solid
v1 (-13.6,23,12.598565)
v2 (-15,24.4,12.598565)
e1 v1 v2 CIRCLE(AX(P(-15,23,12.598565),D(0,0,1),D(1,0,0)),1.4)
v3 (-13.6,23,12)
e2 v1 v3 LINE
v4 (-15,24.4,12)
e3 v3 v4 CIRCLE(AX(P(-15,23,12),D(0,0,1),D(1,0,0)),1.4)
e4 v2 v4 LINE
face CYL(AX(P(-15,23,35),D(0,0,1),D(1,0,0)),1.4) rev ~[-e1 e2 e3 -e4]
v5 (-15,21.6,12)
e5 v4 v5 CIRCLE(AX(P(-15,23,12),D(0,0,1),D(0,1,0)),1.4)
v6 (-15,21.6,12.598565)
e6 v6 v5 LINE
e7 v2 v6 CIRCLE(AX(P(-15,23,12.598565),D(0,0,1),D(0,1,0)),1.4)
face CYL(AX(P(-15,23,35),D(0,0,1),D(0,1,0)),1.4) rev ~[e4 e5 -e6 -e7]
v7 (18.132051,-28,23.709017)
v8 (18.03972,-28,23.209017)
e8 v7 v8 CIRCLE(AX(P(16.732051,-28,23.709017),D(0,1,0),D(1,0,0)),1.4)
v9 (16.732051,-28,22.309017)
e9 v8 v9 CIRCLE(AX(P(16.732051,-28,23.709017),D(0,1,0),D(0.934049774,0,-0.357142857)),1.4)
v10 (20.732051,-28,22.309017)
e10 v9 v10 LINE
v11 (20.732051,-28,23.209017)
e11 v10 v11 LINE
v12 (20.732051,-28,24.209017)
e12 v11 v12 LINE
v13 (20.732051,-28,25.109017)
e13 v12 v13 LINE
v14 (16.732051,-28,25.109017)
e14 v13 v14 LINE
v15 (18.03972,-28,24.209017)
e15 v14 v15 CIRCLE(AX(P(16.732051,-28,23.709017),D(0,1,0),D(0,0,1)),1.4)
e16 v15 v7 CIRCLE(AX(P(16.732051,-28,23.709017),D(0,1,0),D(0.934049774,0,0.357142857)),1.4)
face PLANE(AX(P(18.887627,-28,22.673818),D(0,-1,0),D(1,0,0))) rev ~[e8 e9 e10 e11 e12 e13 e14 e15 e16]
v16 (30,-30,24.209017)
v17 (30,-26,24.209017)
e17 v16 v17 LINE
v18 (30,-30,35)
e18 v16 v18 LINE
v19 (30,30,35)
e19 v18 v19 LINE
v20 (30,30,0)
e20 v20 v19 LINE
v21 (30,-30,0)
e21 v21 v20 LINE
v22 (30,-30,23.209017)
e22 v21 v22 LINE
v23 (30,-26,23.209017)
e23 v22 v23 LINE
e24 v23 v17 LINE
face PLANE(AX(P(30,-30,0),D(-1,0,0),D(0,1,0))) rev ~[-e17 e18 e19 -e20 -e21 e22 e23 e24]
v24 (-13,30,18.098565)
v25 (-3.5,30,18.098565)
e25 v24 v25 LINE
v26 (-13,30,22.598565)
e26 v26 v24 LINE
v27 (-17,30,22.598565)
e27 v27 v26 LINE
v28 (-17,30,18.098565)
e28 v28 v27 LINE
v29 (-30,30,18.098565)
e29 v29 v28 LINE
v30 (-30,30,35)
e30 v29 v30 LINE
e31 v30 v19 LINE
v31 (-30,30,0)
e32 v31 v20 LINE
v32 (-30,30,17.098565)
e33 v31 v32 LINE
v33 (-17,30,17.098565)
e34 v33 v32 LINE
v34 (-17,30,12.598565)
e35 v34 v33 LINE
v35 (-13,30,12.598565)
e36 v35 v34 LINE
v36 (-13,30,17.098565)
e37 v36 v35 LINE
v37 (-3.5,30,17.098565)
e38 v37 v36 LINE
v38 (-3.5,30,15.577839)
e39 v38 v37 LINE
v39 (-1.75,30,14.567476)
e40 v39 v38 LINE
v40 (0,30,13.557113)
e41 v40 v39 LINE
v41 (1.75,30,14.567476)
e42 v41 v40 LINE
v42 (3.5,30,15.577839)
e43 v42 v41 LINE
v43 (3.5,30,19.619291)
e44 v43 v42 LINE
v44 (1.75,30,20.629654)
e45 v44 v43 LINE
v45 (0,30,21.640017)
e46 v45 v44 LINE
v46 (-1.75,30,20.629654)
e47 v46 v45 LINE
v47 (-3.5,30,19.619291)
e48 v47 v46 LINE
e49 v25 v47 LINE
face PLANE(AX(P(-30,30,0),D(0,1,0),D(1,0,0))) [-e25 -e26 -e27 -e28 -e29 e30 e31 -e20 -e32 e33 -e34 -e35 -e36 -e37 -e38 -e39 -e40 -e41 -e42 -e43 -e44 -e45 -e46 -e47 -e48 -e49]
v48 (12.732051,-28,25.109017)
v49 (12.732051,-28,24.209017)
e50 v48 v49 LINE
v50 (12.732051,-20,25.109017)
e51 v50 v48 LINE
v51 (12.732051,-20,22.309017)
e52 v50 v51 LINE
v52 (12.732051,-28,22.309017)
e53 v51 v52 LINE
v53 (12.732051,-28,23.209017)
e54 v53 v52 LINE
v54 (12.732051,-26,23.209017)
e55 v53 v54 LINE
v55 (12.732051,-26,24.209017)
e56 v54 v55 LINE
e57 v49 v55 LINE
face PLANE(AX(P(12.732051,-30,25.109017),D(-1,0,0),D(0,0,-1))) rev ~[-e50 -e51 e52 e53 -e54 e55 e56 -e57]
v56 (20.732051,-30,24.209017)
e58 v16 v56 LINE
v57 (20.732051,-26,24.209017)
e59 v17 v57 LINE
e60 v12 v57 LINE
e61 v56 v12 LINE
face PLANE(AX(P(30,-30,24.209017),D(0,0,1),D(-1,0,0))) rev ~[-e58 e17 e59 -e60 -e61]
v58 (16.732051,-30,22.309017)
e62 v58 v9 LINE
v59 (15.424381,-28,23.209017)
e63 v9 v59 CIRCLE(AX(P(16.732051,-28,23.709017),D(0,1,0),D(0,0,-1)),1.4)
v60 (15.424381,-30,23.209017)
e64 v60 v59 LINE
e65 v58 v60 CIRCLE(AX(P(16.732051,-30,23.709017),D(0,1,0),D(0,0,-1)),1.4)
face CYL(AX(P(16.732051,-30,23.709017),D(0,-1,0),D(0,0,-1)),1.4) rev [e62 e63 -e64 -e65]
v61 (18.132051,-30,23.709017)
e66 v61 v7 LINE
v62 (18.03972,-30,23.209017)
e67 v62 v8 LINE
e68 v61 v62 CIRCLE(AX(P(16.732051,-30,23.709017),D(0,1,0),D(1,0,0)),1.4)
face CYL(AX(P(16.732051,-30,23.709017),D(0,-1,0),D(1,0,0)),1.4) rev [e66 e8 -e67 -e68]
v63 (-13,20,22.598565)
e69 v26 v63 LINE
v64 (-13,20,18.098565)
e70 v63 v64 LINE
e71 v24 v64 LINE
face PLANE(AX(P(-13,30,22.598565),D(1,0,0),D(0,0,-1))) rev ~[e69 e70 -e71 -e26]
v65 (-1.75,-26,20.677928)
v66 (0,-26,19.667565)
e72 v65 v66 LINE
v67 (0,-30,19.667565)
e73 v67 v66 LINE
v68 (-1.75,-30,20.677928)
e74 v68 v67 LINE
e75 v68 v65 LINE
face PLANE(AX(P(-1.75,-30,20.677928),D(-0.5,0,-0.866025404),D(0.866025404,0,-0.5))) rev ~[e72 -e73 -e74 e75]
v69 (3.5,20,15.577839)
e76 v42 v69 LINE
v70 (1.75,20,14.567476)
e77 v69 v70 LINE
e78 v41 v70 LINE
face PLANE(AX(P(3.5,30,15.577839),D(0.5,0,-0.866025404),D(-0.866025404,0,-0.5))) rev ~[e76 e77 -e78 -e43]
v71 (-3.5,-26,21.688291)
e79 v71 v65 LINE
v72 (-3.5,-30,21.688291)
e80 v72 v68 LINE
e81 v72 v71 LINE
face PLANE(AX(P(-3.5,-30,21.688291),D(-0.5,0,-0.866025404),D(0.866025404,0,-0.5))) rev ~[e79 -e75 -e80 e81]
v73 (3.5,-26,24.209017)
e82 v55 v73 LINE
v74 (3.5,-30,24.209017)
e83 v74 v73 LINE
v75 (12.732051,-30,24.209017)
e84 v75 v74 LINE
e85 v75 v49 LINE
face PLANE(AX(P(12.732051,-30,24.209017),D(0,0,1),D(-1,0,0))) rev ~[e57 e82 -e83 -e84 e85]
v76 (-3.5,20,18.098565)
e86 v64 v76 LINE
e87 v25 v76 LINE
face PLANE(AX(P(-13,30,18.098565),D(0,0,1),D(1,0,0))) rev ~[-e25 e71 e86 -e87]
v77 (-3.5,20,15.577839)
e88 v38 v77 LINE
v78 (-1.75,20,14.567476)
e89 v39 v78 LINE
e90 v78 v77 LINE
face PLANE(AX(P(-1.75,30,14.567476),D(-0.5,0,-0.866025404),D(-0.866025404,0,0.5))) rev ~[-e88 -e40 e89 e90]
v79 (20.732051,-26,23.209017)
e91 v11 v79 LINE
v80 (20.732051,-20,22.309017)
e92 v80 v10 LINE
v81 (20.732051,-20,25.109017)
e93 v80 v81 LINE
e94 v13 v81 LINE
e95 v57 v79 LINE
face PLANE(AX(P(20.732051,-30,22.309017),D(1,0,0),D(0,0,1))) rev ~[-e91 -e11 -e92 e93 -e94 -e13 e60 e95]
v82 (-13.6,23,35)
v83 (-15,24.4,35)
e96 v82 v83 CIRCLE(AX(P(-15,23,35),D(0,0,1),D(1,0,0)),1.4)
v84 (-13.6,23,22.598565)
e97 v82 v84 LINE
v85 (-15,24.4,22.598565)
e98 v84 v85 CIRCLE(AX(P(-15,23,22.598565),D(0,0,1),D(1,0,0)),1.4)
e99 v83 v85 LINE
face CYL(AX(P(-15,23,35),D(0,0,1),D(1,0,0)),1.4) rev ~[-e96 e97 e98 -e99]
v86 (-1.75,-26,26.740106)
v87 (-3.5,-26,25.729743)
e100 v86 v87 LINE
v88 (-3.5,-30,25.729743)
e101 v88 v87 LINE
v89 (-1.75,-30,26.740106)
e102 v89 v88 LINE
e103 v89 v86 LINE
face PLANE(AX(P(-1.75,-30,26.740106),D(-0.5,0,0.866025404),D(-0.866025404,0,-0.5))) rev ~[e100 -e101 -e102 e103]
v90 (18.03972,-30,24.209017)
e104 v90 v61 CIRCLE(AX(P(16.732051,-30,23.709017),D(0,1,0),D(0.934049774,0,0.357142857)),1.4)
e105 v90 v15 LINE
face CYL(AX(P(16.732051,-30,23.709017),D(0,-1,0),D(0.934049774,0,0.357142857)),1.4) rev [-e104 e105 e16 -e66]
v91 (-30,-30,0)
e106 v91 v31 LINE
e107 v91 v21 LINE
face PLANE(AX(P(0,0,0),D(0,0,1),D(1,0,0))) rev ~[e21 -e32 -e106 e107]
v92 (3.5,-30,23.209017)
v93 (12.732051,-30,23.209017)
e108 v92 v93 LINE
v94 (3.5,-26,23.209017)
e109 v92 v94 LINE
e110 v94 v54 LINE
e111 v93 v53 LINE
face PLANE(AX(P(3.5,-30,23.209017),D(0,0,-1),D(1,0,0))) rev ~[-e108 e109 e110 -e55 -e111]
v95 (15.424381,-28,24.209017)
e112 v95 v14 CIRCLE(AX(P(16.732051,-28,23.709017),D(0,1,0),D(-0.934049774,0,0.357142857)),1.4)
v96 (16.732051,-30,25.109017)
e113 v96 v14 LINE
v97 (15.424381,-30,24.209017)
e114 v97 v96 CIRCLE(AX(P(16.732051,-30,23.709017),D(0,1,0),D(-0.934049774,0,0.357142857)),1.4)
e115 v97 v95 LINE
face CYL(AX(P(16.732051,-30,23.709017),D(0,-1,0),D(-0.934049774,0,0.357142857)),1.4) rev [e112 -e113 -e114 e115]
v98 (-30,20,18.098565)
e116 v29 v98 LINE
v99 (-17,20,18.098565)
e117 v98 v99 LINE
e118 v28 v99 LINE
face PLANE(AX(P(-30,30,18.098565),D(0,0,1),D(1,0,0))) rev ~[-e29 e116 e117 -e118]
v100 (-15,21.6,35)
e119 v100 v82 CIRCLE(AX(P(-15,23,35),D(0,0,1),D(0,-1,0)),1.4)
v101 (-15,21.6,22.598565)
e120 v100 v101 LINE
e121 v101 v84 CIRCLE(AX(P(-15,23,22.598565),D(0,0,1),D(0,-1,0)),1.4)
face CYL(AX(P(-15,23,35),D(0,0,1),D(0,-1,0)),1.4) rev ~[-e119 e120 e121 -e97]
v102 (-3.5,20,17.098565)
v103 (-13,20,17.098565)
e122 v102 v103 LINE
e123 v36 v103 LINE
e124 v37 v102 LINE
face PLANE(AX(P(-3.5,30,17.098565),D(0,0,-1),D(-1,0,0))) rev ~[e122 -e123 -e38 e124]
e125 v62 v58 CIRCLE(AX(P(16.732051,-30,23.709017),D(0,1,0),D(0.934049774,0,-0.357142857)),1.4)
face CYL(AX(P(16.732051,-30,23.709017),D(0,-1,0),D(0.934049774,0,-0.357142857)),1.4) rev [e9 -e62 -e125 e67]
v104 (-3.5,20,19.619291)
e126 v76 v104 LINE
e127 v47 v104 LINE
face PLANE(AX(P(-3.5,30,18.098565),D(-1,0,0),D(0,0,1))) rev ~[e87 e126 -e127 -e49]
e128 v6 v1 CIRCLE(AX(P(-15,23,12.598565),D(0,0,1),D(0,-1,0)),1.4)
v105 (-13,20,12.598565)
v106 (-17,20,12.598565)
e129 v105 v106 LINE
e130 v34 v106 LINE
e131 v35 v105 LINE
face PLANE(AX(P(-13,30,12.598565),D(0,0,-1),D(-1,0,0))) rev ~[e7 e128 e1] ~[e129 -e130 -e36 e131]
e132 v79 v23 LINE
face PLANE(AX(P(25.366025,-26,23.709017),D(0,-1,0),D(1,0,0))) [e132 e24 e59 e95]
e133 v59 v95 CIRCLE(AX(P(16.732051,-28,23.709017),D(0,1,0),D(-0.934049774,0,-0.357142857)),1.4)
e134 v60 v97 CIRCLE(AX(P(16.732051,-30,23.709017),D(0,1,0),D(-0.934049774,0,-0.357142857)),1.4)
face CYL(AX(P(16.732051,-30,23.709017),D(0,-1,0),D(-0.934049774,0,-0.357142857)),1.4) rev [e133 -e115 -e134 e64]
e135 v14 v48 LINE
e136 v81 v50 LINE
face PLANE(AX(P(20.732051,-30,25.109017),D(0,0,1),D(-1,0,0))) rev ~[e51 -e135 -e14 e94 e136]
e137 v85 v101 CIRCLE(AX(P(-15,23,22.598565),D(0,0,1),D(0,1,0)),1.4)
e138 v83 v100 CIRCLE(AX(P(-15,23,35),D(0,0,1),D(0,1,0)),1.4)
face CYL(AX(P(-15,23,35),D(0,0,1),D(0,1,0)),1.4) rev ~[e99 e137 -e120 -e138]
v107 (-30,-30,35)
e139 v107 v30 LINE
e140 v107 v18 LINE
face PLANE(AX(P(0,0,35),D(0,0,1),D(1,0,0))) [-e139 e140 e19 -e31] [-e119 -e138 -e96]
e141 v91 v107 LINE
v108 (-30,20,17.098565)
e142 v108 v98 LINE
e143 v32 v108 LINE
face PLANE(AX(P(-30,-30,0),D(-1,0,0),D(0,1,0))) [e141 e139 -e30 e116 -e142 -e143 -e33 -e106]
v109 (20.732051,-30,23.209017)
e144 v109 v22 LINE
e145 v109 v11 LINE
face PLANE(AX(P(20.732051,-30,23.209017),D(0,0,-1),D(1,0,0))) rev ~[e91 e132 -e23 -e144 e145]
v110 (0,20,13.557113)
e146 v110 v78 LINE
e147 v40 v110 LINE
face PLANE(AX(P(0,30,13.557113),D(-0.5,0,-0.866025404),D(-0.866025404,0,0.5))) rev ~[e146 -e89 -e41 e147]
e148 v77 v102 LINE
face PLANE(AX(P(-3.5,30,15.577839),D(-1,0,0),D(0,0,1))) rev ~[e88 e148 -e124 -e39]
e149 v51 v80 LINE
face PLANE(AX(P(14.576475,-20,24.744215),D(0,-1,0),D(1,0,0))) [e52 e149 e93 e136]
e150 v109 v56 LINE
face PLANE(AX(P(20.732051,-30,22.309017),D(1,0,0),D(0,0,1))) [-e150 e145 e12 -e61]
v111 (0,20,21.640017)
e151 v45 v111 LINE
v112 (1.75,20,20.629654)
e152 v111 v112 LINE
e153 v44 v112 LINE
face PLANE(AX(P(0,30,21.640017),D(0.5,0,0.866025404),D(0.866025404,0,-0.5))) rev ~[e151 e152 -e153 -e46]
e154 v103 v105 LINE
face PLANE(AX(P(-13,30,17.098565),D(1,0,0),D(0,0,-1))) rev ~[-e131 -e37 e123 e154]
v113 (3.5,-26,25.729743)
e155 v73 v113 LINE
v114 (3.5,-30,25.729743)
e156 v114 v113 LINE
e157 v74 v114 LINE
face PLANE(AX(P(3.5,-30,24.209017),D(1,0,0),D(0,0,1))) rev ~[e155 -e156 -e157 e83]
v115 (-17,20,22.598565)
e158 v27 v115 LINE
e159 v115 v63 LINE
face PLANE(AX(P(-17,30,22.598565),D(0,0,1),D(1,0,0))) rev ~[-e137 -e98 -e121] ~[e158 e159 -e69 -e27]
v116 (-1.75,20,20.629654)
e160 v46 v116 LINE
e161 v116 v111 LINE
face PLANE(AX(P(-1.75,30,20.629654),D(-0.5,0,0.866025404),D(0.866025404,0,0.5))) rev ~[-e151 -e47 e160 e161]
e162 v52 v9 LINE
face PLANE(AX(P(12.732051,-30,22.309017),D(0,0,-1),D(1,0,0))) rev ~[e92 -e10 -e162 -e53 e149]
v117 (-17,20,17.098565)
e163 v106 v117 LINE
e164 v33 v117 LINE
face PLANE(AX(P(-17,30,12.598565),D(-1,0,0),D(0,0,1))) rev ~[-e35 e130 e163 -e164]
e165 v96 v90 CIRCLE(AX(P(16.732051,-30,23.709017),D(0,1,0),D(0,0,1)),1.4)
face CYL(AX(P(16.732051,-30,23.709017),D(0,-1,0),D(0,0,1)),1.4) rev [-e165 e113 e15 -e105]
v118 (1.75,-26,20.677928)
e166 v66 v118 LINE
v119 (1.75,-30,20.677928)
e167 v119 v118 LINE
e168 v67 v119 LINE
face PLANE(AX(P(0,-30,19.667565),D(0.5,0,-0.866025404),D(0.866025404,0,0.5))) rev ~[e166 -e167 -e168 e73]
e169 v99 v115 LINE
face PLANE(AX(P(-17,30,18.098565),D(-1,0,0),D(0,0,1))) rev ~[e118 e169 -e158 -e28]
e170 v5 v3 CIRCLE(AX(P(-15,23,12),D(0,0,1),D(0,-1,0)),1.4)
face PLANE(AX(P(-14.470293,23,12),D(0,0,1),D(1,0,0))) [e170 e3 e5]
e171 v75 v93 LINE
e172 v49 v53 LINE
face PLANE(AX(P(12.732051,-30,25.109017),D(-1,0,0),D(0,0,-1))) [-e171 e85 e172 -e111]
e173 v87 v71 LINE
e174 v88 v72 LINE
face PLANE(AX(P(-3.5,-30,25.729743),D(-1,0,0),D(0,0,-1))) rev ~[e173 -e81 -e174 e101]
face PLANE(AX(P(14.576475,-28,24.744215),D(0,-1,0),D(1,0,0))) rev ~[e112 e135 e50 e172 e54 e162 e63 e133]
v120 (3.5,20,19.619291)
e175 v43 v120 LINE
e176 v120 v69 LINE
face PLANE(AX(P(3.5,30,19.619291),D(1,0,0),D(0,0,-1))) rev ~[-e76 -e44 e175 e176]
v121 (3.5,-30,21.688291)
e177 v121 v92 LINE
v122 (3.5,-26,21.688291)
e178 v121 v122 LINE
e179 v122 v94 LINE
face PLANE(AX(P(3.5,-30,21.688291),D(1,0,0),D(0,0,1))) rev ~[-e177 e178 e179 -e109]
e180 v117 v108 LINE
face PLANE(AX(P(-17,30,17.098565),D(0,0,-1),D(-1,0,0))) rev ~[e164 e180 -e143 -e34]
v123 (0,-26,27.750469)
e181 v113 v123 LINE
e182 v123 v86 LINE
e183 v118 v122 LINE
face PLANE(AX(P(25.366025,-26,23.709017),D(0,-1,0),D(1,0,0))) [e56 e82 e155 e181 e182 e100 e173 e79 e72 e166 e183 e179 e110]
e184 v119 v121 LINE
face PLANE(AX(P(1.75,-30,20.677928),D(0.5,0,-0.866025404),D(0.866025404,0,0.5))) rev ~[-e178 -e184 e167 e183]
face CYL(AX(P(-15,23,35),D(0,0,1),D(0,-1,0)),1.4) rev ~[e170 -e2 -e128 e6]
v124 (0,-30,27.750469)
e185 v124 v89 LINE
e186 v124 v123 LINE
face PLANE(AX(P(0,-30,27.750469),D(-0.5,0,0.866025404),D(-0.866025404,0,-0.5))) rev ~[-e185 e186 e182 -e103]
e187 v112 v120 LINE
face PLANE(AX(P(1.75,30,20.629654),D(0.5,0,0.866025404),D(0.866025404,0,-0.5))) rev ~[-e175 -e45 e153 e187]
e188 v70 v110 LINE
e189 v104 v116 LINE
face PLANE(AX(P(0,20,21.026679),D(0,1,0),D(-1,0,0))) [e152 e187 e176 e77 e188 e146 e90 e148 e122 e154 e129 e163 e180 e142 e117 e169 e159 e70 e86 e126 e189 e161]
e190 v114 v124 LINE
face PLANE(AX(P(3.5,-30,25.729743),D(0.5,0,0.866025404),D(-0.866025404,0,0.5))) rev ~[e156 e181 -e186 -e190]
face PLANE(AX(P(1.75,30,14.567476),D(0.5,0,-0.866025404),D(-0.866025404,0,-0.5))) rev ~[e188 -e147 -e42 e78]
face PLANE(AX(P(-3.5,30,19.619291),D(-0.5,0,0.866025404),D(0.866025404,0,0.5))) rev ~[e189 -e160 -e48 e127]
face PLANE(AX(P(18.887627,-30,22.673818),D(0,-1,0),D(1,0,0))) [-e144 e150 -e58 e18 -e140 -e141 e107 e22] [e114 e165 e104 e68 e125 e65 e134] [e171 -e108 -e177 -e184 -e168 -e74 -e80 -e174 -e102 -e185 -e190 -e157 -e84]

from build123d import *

# Parameters (mm, degrees)
F0_W     = 60
F0_H     = 60
F1_DEPTH = 35
F3_DEPTH = 10
F2_W     = 9.2679491924
F2_H     = 1
F4_DEPTH = 4
F5_DEPTH = 2
F6_W     = 2
F6_H     = 0.5
F6_H_2   = 4.5
F6_W_2   = 1.75
F7_DEPTH = 10
F9_DEPTH = 23


with BuildPart() as f1:
    # F0 (on Top) → F1 (new body)
    with BuildSketch(Plane.XY):
        Rectangle(F0_W, F0_H)
    extrude(amount=F1_DEPTH)

    # F2 (on face) → F3 (cut)
    with BuildSketch(Plane.XZ.offset(30)):
        with BuildLine():
            ThreePointArc((15.4243811245, 24.2090167701), (15.9383254142, 24.8622730296), (16.7320508076, 25.1090167701))
            Line((16.7320508076, 25.1090167701), (12.7320508076, 25.1090167701))
            Line((12.7320508076, 25.1090167701), (12.7320508076, 24.2090167701))
            Line((12.7320508076, 24.2090167701), (15.4243811245, 24.2090167701))
        make_face()
        with BuildLine():
            ThreePointArc((15.4243811245, 23.2090167701), (15.3320508076, 23.7090167701), (15.4243811245, 24.2090167701))
            Line((15.4243811245, 24.2090167701), (12.7320508076, 24.2090167701))
            Line((12.7320508076, 24.2090167701), (12.7320508076, 23.2090167701))
            Line((12.7320508076, 23.2090167701), (15.4243811245, 23.2090167701))
        make_face()
        with BuildLine():
            Line((12.7320508076, 22.3090167701), (16.7320508076, 22.3090167701))
            ThreePointArc((16.7320508076, 22.3090167701), (15.9383254142, 22.5557605107), (15.4243811245, 23.2090167701))
            Line((15.4243811245, 23.2090167701), (12.7320508076, 23.2090167701))
            Line((12.7320508076, 23.2090167701), (12.7320508076, 22.3090167701))
        make_face()
        with BuildLine():
            ThreePointArc((18.1320508076, 23.7090167701), (18.1087747371, 23.9632434836), (18.0397204906, 24.2090167701))
            ThreePointArc((18.0397204906, 24.2090167701), (17.5257762009, 24.8622730296), (16.7320508076, 25.1090167701))
            ThreePointArc((16.7320508076, 25.1090167701), (15.9383254142, 24.8622730296), (15.4243811245, 24.2090167701))
            ThreePointArc((15.4243811245, 24.2090167701), (15.3320508076, 23.7090167701), (15.4243811245, 23.2090167701))
            ThreePointArc((15.4243811245, 23.2090167701), (15.9383254142, 22.5557605107), (16.7320508076, 22.3090167701))
            ThreePointArc((16.7320508076, 22.3090167701), (17.5257762009, 22.5557605107), (18.0397204906, 23.2090167701))
            ThreePointArc((18.0397204906, 23.2090167701), (18.1087747371, 23.4547900566), (18.1320508076, 23.7090167701))
        make_face()
        with BuildLine():
            Line((18.0397204906, 24.2090167701), (20.7320508076, 24.2090167701))
            Line((20.7320508076, 24.2090167701), (20.7320508076, 25.1090167701))
            Line((20.7320508076, 25.1090167701), (16.7320508076, 25.1090167701))
            ThreePointArc((16.7320508076, 25.1090167701), (17.5257762009, 24.8622730296), (18.0397204906, 24.2090167701))
        make_face()
        with BuildLine():
            Line((20.7320508076, 23.2090167701), (20.7320508076, 24.2090167701))
            Line((20.7320508076, 24.2090167701), (18.0397204906, 24.2090167701))
            ThreePointArc((18.0397204906, 24.2090167701), (18.1087747371, 23.9632434836), (18.1320508076, 23.7090167701))
            ThreePointArc((18.1320508076, 23.7090167701), (18.1087747371, 23.4547900566), (18.0397204906, 23.2090167701))
            Line((18.0397204906, 23.2090167701), (20.7320508076, 23.2090167701))
        make_face()
        with BuildLine():
            Line((20.7320508076, 22.3090167701), (20.7320508076, 23.2090167701))
            Line((20.7320508076, 23.2090167701), (18.0397204906, 23.2090167701))
            ThreePointArc((18.0397204906, 23.2090167701), (17.5257762009, 22.5557605107), (16.7320508076, 22.3090167701))
            Line((16.7320508076, 22.3090167701), (20.7320508076, 22.3090167701))
        make_face()
    extrude(amount=-F3_DEPTH, mode=Mode.SUBTRACT)

    # F2 (on face) → F4 (cut)
    with BuildSketch(Plane.XZ.offset(30)):
        with Locations((25.3660254038, 23.7090167701)):
            Rectangle(F2_W, F2_H)
        with BuildLine():
            Line((20.7320508076, 23.2090167701), (20.7320508076, 24.2090167701))
            Line((20.7320508076, 24.2090167701), (18.0397204906, 24.2090167701))
            ThreePointArc((18.0397204906, 24.2090167701), (18.1087747371, 23.9632434836), (18.1320508076, 23.7090167701))
            ThreePointArc((18.1320508076, 23.7090167701), (18.1087747371, 23.4547900566), (18.0397204906, 23.2090167701))
            Line((18.0397204906, 23.2090167701), (20.7320508076, 23.2090167701))
        make_face()
        with BuildLine():
            Line((18.0397204906, 24.2090167701), (20.7320508076, 24.2090167701))
            Line((20.7320508076, 24.2090167701), (20.7320508076, 25.1090167701))
            Line((20.7320508076, 25.1090167701), (16.7320508076, 25.1090167701))
            ThreePointArc((16.7320508076, 25.1090167701), (17.5257762009, 24.8622730296), (18.0397204906, 24.2090167701))
        make_face()
        with BuildLine():
            ThreePointArc((18.1320508076, 23.7090167701), (18.1087747371, 23.9632434836), (18.0397204906, 24.2090167701))
            ThreePointArc((18.0397204906, 24.2090167701), (17.5257762009, 24.8622730296), (16.7320508076, 25.1090167701))
            ThreePointArc((16.7320508076, 25.1090167701), (15.9383254142, 24.8622730296), (15.4243811245, 24.2090167701))
            ThreePointArc((15.4243811245, 24.2090167701), (15.3320508076, 23.7090167701), (15.4243811245, 23.2090167701))
            ThreePointArc((15.4243811245, 23.2090167701), (15.9383254142, 22.5557605107), (16.7320508076, 22.3090167701))
            ThreePointArc((16.7320508076, 22.3090167701), (17.5257762009, 22.5557605107), (18.0397204906, 23.2090167701))
            ThreePointArc((18.0397204906, 23.2090167701), (18.1087747371, 23.4547900566), (18.1320508076, 23.7090167701))
        make_face()
        with BuildLine():
            Line((20.7320508076, 22.3090167701), (20.7320508076, 23.2090167701))
            Line((20.7320508076, 23.2090167701), (18.0397204906, 23.2090167701))
            ThreePointArc((18.0397204906, 23.2090167701), (17.5257762009, 22.5557605107), (16.7320508076, 22.3090167701))
            Line((16.7320508076, 22.3090167701), (20.7320508076, 22.3090167701))
        make_face()
        with BuildLine():
            ThreePointArc((15.4243811245, 24.2090167701), (15.9383254142, 24.8622730296), (16.7320508076, 25.1090167701))
            Line((16.7320508076, 25.1090167701), (12.7320508076, 25.1090167701))
            Line((12.7320508076, 25.1090167701), (12.7320508076, 24.2090167701))
            Line((12.7320508076, 24.2090167701), (15.4243811245, 24.2090167701))
        make_face()
        with BuildLine():
            ThreePointArc((15.4243811245, 23.2090167701), (15.3320508076, 23.7090167701), (15.4243811245, 24.2090167701))
            Line((15.4243811245, 24.2090167701), (12.7320508076, 24.2090167701))
            Line((12.7320508076, 24.2090167701), (12.7320508076, 23.2090167701))
            Line((12.7320508076, 23.2090167701), (15.4243811245, 23.2090167701))
        make_face()
        with BuildLine():
            Line((12.7320508076, 22.3090167701), (16.7320508076, 22.3090167701))
            ThreePointArc((16.7320508076, 22.3090167701), (15.9383254142, 22.5557605107), (15.4243811245, 23.2090167701))
            Line((15.4243811245, 23.2090167701), (12.7320508076, 23.2090167701))
            Line((12.7320508076, 23.2090167701), (12.7320508076, 22.3090167701))
        make_face()
        Polygon((12.7320508076, 23.2090167701), (12.7320508076, 24.2090167701), (3.5, 24.2090167701), (3.5, 23.7090167701), (3.5, 23.2090167701), align=None)
        with BuildLine():
            Line((3.4641016151, 24.2090167701), (3.5, 24.2090167701))
            Line((3.5, 24.2090167701), (3.5, 25.7297427123))
            Line((3.5, 25.7297427123), (1.7500000362, 26.7401056625))
            ThreePointArc((1.7500000362, 26.7401056625), (2.897984947, 25.6715873414), (3.4641016151, 24.2090167701))
        make_face()
        with BuildLine():
            Line((3.5, 23.7090167701), (3.5, 24.2090167701))
            Line((3.5, 24.2090167701), (3.4641016151, 24.2090167701))
            ThreePointArc((3.4641016151, 24.2090167701), (3.491013868, 23.9596602889), (3.5, 23.7090167701))
        make_face()
        with BuildLine():
            Line((3.4641016151, 23.2090167701), (3.5, 23.2090167701))
            Line((3.5, 23.2090167701), (3.5, 23.7090167701))
            ThreePointArc((3.5, 23.7090167701), (3.491013868, 23.4583732513), (3.4641016151, 23.2090167701))
        make_face()
        with BuildLine():
            Line((3.5, 21.688290828), (3.5, 23.2090167701))
            Line((3.5, 23.2090167701), (3.4641016151, 23.2090167701))
            ThreePointArc((3.4641016151, 23.2090167701), (2.8979849006, 21.7464461304), (1.7499998929, 20.6779277951))
            Line((1.7499998929, 20.6779277951), (3.5, 21.688290828))
        make_face()
        with BuildLine():
            ThreePointArc((3.4641016151, 23.2090167701), (3.491013868, 23.4583732513), (3.5, 23.7090167701))
            ThreePointArc((3.5, 23.7090167701), (3.491013868, 23.9596602889), (3.4641016151, 24.2090167701))
            ThreePointArc((3.4641016151, 24.2090167701), (2.897984947, 25.6715873414), (1.7500000362, 26.7401056625))
            ThreePointArc((1.7500000362, 26.7401056625), (-1.83e-08, 27.2090167701), (-1.7500000679, 26.7401056441))
            ThreePointArc((-1.7500000679, 26.7401056441), (-3.0310889329, 25.4590167362), (-3.5, 23.7090167701))
            ThreePointArc((-3.5, 23.7090167701), (-3.0310889298, 21.9590167989), (-1.7500000575, 20.6779278901))
            ThreePointArc((-1.7500000575, 20.6779278901), (-9.5e-08, 20.2090167701), (1.7499998929, 20.6779277951))
            ThreePointArc((1.7499998929, 20.6779277951), (2.8979849006, 21.7464461304), (3.4641016151, 23.2090167701))
        make_face()
        with BuildLine():
            ThreePointArc((-1.7500000679, 26.7401056441), (-1.83e-08, 27.2090167701), (1.7500000362, 26.7401056625))
            Line((1.7500000362, 26.7401056625), (0, 27.7504686545))
            Line((0, 27.7504686545), (-1.7500000679, 26.7401056441))
        make_face()
        with BuildLine():
            Line((0, 19.6675648858), (1.7499998929, 20.6779277951))
            ThreePointArc((1.7499998929, 20.6779277951), (-9.5e-08, 20.2090167701), (-1.7500000575, 20.6779278901))
            Line((-1.7500000575, 20.6779278901), (0, 19.6675648858))
        make_face()
        with BuildLine():
            ThreePointArc((-3.5, 23.7090167701), (-3.0310889329, 25.4590167362), (-1.7500000679, 26.7401056441))
            Line((-1.7500000679, 26.7401056441), (-3.5, 25.7297427123))
            Line((-3.5, 25.7297427123), (-3.5, 23.7090167701))
        make_face()
        with BuildLine():
            Line((-3.5, 21.688290828), (-1.7500000575, 20.6779278901))
            ThreePointArc((-1.7500000575, 20.6779278901), (-3.0310889298, 21.9590167989), (-3.5, 23.7090167701))
            Line((-3.5, 23.7090167701), (-3.5, 21.688290828))
        make_face()
    extrude(amount=-F4_DEPTH, mode=Mode.SUBTRACT)

    # F2 (on face) → F5 (join)
    with BuildSketch(Plane.XZ.offset(30)):
        with BuildLine():
            Line((20.7320508076, 22.3090167701), (20.7320508076, 23.2090167701))
            Line((20.7320508076, 23.2090167701), (18.0397204906, 23.2090167701))
            ThreePointArc((18.0397204906, 23.2090167701), (17.5257762009, 22.5557605107), (16.7320508076, 22.3090167701))
            Line((16.7320508076, 22.3090167701), (20.7320508076, 22.3090167701))
        make_face()
        with BuildLine():
            ThreePointArc((15.4243811245, 24.2090167701), (15.9383254142, 24.8622730296), (16.7320508076, 25.1090167701))
            Line((16.7320508076, 25.1090167701), (12.7320508076, 25.1090167701))
            Line((12.7320508076, 25.1090167701), (12.7320508076, 24.2090167701))
            Line((12.7320508076, 24.2090167701), (15.4243811245, 24.2090167701))
        make_face()
        with BuildLine():
            Line((12.7320508076, 22.3090167701), (16.7320508076, 22.3090167701))
            ThreePointArc((16.7320508076, 22.3090167701), (15.9383254142, 22.5557605107), (15.4243811245, 23.2090167701))
            Line((15.4243811245, 23.2090167701), (12.7320508076, 23.2090167701))
            Line((12.7320508076, 23.2090167701), (12.7320508076, 22.3090167701))
        make_face()
        with BuildLine():
            Line((20.7320508076, 23.2090167701), (20.7320508076, 24.2090167701))
            Line((20.7320508076, 24.2090167701), (18.0397204906, 24.2090167701))
            ThreePointArc((18.0397204906, 24.2090167701), (18.1087747371, 23.9632434836), (18.1320508076, 23.7090167701))
            ThreePointArc((18.1320508076, 23.7090167701), (18.1087747371, 23.4547900566), (18.0397204906, 23.2090167701))
            Line((18.0397204906, 23.2090167701), (20.7320508076, 23.2090167701))
        make_face()
        with BuildLine():
            ThreePointArc((15.4243811245, 23.2090167701), (15.3320508076, 23.7090167701), (15.4243811245, 24.2090167701))
            Line((15.4243811245, 24.2090167701), (12.7320508076, 24.2090167701))
            Line((12.7320508076, 24.2090167701), (12.7320508076, 23.2090167701))
            Line((12.7320508076, 23.2090167701), (15.4243811245, 23.2090167701))
        make_face()
        with BuildLine():
            Line((18.0397204906, 24.2090167701), (20.7320508076, 24.2090167701))
            Line((20.7320508076, 24.2090167701), (20.7320508076, 25.1090167701))
            Line((20.7320508076, 25.1090167701), (16.7320508076, 25.1090167701))
            ThreePointArc((16.7320508076, 25.1090167701), (17.5257762009, 24.8622730296), (18.0397204906, 24.2090167701))
        make_face()
    extrude(amount=-F5_DEPTH)

    # F6 (on face) → F7 (cut)
    with BuildSketch(Plane(origin=(0, 30, 0), x_dir=(-1, 0, 0), z_dir=(0, 1, 0))):
        with BuildLine():
            ThreePointArc((-1.7499999142, 20.6296540127), (1.58e-08, 21.0985650499), (1.7499999416, 20.6296539969))
            Line((1.7499999416, 20.6296539969), (0, 21.6400169342))
            Line((0, 21.6400169342), (-1.7499999142, 20.6296540127))
        make_face()
        with BuildLine():
            Line((-3.5, 19.6192909921), (-3.5, 17.5985650499))
            ThreePointArc((-3.5, 17.5985650499), (-3.0310888885, 19.3485650928), (-1.7499999142, 20.6296540127))
            Line((-1.7499999142, 20.6296540127), (-3.5, 19.6192909921))
        make_face()
        with BuildLine():
            Line((-3.5, 15.5778391077), (-1.7500000132, 14.5674761443))
            ThreePointArc((-1.7500000132, 14.5674761443), (-3.0310889171, 15.8485650565), (-3.5, 17.5985650499))
            Line((-3.5, 17.5985650499), (-3.5, 15.5778391077))
        make_face()
        with BuildLine():
            Line((0, 13.5571131656), (1.7500000301, 14.567476154))
            ThreePointArc((1.7500000301, 14.567476154), (9.8e-09, 14.0985650499), (-1.7500000132, 14.5674761443))
            Line((-1.7500000132, 14.5674761443), (0, 13.5571131656))
        make_face()
        with BuildLine():
            Line((3.5, 15.5778391077), (3.5, 17.0985650499))
            Line((3.5, 17.0985650499), (3.4641016151, 17.0985650499))
            ThreePointArc((3.4641016151, 17.0985650499), (2.897984945, 15.6359944757), (1.7500000301, 14.567476154))
            Line((1.7500000301, 14.567476154), (3.5, 15.5778391077))
        make_face()
        with BuildLine():
            Line((3.4641016151, 17.0985650499), (3.5, 17.0985650499))
            Line((3.5, 17.0985650499), (3.5, 17.5985650499))
            ThreePointArc((3.5, 17.5985650499), (3.491013868, 17.3479215311), (3.4641016151, 17.0985650499))
        make_face()
        with BuildLine():
            ThreePointArc((3.4641016151, 18.0985650499), (3.491013868, 17.8492085687), (3.5, 17.5985650499))
            Line((3.5, 17.5985650499), (3.5, 18.0985650499))
            Line((3.5, 18.0985650499), (3.4641016151, 18.0985650499))
        make_face()
        with BuildLine():
            ThreePointArc((1.7499999416, 20.6296539969), (2.8979849163, 19.5611356664), (3.4641016151, 18.0985650499))
            Line((3.4641016151, 18.0985650499), (3.5, 18.0985650499))
            Line((3.5, 18.0985650499), (3.5, 19.6192909921))
            Line((3.5, 19.6192909921), (1.7499999416, 20.6296539969))
        make_face()
        Polygon((17, 17.0985650499), (30, 17.0985650499), (30, 18.0985650499), (17, 18.0985650499), (17, 17.5985650499), align=None)
        with BuildLine():
            ThreePointArc((1.7500000301, 14.567476154), (2.897984945, 15.6359944757), (3.4641016151, 17.0985650499))
            Line((3.4641016151, 17.0985650499), (0, 17.0985650499))
            Line((0, 17.0985650499), (0, 18.0985650499))
            Line((0, 18.0985650499), (3.4641016151, 18.0985650499))
            ThreePointArc((3.4641016151, 18.0985650499), (2.8979849163, 19.5611356664), (1.7499999416, 20.6296539969))
            ThreePointArc((1.7499999416, 20.6296539969), (1.58e-08, 21.0985650499), (-1.7499999142, 20.6296540127))
            ThreePointArc((-1.7499999142, 20.6296540127), (-3.0310888885, 19.3485650928), (-3.5, 17.5985650499))
            ThreePointArc((-3.5, 17.5985650499), (-3.0310889171, 15.8485650565), (-1.7500000132, 14.5674761443))
            ThreePointArc((-1.7500000132, 14.5674761443), (9.8e-09, 14.0985650499), (1.7500000301, 14.567476154))
        make_face()
        with Locations((14, 17.3485650499)):
            Rectangle(F6_W, F6_H)
        with Locations((16, 17.3485650499)):
            Rectangle(F6_W, F6_H)
        with Locations((16, 14.8485650499)):
            Rectangle(F6_W, F6_H_2)
        with Locations((14, 14.8485650499)):
            Rectangle(F6_W, F6_H_2)
        with BuildLine():
            Line((0, 17.0985650499), (3.4641016151, 17.0985650499))
            ThreePointArc((3.4641016151, 17.0985650499), (3.491013868, 17.3479215311), (3.5, 17.5985650499))
            ThreePointArc((3.5, 17.5985650499), (3.491013868, 17.8492085687), (3.4641016151, 18.0985650499))
            Line((3.4641016151, 18.0985650499), (0, 18.0985650499))
            Line((0, 18.0985650499), (0, 17.0985650499))
        make_face()
        Polygon((15, 18.0985650499), (15.25, 18.0985650499), (15.25, 22.5985650499), (14.75, 22.5985650499), (14.75, 18.0985650499), align=None)
        with Locations((13.875, 20.3485650499)):
            Rectangle(F6_W_2, F6_H_2)
        with Locations((16.125, 20.3485650499)):
            Rectangle(F6_W_2, F6_H_2)
        Polygon((13, 17.5985650499), (15, 17.5985650499), (15, 18.0985650499), (14.75, 18.0985650499), (13, 18.0985650499), align=None)
        Polygon((15, 17.5985650499), (17, 17.5985650499), (17, 18.0985650499), (15.25, 18.0985650499), (15, 18.0985650499), align=None)
        Polygon((3.5, 17.0985650499), (13, 17.0985650499), (13, 17.5985650499), (13, 18.0985650499), (3.5, 18.0985650499), (3.5, 17.5985650499), align=None)
    extrude(amount=-F7_DEPTH, mode=Mode.SUBTRACT)

    # F8 (on face) → F9 (cut)
    with BuildSketch(Plane.XY.offset(35)):
        with BuildLine():
            ThreePointArc((-13.6, 23), (-14.0100505063, 23.9899494937), (-15, 24.4))
            Line((-15, 24.4), (-15, 21.6))
            ThreePointArc((-15, 21.6), (-14.0100505063, 22.0100505063), (-13.6, 23))
        make_face()
        with BuildLine():
            Line((-15, 21.6), (-15, 24.4))
            ThreePointArc((-15, 24.4), (-16.4, 23), (-15, 21.6))
        make_face()
    extrude(amount=-F9_DEPTH, mode=Mode.SUBTRACT)


solid = f1.part
